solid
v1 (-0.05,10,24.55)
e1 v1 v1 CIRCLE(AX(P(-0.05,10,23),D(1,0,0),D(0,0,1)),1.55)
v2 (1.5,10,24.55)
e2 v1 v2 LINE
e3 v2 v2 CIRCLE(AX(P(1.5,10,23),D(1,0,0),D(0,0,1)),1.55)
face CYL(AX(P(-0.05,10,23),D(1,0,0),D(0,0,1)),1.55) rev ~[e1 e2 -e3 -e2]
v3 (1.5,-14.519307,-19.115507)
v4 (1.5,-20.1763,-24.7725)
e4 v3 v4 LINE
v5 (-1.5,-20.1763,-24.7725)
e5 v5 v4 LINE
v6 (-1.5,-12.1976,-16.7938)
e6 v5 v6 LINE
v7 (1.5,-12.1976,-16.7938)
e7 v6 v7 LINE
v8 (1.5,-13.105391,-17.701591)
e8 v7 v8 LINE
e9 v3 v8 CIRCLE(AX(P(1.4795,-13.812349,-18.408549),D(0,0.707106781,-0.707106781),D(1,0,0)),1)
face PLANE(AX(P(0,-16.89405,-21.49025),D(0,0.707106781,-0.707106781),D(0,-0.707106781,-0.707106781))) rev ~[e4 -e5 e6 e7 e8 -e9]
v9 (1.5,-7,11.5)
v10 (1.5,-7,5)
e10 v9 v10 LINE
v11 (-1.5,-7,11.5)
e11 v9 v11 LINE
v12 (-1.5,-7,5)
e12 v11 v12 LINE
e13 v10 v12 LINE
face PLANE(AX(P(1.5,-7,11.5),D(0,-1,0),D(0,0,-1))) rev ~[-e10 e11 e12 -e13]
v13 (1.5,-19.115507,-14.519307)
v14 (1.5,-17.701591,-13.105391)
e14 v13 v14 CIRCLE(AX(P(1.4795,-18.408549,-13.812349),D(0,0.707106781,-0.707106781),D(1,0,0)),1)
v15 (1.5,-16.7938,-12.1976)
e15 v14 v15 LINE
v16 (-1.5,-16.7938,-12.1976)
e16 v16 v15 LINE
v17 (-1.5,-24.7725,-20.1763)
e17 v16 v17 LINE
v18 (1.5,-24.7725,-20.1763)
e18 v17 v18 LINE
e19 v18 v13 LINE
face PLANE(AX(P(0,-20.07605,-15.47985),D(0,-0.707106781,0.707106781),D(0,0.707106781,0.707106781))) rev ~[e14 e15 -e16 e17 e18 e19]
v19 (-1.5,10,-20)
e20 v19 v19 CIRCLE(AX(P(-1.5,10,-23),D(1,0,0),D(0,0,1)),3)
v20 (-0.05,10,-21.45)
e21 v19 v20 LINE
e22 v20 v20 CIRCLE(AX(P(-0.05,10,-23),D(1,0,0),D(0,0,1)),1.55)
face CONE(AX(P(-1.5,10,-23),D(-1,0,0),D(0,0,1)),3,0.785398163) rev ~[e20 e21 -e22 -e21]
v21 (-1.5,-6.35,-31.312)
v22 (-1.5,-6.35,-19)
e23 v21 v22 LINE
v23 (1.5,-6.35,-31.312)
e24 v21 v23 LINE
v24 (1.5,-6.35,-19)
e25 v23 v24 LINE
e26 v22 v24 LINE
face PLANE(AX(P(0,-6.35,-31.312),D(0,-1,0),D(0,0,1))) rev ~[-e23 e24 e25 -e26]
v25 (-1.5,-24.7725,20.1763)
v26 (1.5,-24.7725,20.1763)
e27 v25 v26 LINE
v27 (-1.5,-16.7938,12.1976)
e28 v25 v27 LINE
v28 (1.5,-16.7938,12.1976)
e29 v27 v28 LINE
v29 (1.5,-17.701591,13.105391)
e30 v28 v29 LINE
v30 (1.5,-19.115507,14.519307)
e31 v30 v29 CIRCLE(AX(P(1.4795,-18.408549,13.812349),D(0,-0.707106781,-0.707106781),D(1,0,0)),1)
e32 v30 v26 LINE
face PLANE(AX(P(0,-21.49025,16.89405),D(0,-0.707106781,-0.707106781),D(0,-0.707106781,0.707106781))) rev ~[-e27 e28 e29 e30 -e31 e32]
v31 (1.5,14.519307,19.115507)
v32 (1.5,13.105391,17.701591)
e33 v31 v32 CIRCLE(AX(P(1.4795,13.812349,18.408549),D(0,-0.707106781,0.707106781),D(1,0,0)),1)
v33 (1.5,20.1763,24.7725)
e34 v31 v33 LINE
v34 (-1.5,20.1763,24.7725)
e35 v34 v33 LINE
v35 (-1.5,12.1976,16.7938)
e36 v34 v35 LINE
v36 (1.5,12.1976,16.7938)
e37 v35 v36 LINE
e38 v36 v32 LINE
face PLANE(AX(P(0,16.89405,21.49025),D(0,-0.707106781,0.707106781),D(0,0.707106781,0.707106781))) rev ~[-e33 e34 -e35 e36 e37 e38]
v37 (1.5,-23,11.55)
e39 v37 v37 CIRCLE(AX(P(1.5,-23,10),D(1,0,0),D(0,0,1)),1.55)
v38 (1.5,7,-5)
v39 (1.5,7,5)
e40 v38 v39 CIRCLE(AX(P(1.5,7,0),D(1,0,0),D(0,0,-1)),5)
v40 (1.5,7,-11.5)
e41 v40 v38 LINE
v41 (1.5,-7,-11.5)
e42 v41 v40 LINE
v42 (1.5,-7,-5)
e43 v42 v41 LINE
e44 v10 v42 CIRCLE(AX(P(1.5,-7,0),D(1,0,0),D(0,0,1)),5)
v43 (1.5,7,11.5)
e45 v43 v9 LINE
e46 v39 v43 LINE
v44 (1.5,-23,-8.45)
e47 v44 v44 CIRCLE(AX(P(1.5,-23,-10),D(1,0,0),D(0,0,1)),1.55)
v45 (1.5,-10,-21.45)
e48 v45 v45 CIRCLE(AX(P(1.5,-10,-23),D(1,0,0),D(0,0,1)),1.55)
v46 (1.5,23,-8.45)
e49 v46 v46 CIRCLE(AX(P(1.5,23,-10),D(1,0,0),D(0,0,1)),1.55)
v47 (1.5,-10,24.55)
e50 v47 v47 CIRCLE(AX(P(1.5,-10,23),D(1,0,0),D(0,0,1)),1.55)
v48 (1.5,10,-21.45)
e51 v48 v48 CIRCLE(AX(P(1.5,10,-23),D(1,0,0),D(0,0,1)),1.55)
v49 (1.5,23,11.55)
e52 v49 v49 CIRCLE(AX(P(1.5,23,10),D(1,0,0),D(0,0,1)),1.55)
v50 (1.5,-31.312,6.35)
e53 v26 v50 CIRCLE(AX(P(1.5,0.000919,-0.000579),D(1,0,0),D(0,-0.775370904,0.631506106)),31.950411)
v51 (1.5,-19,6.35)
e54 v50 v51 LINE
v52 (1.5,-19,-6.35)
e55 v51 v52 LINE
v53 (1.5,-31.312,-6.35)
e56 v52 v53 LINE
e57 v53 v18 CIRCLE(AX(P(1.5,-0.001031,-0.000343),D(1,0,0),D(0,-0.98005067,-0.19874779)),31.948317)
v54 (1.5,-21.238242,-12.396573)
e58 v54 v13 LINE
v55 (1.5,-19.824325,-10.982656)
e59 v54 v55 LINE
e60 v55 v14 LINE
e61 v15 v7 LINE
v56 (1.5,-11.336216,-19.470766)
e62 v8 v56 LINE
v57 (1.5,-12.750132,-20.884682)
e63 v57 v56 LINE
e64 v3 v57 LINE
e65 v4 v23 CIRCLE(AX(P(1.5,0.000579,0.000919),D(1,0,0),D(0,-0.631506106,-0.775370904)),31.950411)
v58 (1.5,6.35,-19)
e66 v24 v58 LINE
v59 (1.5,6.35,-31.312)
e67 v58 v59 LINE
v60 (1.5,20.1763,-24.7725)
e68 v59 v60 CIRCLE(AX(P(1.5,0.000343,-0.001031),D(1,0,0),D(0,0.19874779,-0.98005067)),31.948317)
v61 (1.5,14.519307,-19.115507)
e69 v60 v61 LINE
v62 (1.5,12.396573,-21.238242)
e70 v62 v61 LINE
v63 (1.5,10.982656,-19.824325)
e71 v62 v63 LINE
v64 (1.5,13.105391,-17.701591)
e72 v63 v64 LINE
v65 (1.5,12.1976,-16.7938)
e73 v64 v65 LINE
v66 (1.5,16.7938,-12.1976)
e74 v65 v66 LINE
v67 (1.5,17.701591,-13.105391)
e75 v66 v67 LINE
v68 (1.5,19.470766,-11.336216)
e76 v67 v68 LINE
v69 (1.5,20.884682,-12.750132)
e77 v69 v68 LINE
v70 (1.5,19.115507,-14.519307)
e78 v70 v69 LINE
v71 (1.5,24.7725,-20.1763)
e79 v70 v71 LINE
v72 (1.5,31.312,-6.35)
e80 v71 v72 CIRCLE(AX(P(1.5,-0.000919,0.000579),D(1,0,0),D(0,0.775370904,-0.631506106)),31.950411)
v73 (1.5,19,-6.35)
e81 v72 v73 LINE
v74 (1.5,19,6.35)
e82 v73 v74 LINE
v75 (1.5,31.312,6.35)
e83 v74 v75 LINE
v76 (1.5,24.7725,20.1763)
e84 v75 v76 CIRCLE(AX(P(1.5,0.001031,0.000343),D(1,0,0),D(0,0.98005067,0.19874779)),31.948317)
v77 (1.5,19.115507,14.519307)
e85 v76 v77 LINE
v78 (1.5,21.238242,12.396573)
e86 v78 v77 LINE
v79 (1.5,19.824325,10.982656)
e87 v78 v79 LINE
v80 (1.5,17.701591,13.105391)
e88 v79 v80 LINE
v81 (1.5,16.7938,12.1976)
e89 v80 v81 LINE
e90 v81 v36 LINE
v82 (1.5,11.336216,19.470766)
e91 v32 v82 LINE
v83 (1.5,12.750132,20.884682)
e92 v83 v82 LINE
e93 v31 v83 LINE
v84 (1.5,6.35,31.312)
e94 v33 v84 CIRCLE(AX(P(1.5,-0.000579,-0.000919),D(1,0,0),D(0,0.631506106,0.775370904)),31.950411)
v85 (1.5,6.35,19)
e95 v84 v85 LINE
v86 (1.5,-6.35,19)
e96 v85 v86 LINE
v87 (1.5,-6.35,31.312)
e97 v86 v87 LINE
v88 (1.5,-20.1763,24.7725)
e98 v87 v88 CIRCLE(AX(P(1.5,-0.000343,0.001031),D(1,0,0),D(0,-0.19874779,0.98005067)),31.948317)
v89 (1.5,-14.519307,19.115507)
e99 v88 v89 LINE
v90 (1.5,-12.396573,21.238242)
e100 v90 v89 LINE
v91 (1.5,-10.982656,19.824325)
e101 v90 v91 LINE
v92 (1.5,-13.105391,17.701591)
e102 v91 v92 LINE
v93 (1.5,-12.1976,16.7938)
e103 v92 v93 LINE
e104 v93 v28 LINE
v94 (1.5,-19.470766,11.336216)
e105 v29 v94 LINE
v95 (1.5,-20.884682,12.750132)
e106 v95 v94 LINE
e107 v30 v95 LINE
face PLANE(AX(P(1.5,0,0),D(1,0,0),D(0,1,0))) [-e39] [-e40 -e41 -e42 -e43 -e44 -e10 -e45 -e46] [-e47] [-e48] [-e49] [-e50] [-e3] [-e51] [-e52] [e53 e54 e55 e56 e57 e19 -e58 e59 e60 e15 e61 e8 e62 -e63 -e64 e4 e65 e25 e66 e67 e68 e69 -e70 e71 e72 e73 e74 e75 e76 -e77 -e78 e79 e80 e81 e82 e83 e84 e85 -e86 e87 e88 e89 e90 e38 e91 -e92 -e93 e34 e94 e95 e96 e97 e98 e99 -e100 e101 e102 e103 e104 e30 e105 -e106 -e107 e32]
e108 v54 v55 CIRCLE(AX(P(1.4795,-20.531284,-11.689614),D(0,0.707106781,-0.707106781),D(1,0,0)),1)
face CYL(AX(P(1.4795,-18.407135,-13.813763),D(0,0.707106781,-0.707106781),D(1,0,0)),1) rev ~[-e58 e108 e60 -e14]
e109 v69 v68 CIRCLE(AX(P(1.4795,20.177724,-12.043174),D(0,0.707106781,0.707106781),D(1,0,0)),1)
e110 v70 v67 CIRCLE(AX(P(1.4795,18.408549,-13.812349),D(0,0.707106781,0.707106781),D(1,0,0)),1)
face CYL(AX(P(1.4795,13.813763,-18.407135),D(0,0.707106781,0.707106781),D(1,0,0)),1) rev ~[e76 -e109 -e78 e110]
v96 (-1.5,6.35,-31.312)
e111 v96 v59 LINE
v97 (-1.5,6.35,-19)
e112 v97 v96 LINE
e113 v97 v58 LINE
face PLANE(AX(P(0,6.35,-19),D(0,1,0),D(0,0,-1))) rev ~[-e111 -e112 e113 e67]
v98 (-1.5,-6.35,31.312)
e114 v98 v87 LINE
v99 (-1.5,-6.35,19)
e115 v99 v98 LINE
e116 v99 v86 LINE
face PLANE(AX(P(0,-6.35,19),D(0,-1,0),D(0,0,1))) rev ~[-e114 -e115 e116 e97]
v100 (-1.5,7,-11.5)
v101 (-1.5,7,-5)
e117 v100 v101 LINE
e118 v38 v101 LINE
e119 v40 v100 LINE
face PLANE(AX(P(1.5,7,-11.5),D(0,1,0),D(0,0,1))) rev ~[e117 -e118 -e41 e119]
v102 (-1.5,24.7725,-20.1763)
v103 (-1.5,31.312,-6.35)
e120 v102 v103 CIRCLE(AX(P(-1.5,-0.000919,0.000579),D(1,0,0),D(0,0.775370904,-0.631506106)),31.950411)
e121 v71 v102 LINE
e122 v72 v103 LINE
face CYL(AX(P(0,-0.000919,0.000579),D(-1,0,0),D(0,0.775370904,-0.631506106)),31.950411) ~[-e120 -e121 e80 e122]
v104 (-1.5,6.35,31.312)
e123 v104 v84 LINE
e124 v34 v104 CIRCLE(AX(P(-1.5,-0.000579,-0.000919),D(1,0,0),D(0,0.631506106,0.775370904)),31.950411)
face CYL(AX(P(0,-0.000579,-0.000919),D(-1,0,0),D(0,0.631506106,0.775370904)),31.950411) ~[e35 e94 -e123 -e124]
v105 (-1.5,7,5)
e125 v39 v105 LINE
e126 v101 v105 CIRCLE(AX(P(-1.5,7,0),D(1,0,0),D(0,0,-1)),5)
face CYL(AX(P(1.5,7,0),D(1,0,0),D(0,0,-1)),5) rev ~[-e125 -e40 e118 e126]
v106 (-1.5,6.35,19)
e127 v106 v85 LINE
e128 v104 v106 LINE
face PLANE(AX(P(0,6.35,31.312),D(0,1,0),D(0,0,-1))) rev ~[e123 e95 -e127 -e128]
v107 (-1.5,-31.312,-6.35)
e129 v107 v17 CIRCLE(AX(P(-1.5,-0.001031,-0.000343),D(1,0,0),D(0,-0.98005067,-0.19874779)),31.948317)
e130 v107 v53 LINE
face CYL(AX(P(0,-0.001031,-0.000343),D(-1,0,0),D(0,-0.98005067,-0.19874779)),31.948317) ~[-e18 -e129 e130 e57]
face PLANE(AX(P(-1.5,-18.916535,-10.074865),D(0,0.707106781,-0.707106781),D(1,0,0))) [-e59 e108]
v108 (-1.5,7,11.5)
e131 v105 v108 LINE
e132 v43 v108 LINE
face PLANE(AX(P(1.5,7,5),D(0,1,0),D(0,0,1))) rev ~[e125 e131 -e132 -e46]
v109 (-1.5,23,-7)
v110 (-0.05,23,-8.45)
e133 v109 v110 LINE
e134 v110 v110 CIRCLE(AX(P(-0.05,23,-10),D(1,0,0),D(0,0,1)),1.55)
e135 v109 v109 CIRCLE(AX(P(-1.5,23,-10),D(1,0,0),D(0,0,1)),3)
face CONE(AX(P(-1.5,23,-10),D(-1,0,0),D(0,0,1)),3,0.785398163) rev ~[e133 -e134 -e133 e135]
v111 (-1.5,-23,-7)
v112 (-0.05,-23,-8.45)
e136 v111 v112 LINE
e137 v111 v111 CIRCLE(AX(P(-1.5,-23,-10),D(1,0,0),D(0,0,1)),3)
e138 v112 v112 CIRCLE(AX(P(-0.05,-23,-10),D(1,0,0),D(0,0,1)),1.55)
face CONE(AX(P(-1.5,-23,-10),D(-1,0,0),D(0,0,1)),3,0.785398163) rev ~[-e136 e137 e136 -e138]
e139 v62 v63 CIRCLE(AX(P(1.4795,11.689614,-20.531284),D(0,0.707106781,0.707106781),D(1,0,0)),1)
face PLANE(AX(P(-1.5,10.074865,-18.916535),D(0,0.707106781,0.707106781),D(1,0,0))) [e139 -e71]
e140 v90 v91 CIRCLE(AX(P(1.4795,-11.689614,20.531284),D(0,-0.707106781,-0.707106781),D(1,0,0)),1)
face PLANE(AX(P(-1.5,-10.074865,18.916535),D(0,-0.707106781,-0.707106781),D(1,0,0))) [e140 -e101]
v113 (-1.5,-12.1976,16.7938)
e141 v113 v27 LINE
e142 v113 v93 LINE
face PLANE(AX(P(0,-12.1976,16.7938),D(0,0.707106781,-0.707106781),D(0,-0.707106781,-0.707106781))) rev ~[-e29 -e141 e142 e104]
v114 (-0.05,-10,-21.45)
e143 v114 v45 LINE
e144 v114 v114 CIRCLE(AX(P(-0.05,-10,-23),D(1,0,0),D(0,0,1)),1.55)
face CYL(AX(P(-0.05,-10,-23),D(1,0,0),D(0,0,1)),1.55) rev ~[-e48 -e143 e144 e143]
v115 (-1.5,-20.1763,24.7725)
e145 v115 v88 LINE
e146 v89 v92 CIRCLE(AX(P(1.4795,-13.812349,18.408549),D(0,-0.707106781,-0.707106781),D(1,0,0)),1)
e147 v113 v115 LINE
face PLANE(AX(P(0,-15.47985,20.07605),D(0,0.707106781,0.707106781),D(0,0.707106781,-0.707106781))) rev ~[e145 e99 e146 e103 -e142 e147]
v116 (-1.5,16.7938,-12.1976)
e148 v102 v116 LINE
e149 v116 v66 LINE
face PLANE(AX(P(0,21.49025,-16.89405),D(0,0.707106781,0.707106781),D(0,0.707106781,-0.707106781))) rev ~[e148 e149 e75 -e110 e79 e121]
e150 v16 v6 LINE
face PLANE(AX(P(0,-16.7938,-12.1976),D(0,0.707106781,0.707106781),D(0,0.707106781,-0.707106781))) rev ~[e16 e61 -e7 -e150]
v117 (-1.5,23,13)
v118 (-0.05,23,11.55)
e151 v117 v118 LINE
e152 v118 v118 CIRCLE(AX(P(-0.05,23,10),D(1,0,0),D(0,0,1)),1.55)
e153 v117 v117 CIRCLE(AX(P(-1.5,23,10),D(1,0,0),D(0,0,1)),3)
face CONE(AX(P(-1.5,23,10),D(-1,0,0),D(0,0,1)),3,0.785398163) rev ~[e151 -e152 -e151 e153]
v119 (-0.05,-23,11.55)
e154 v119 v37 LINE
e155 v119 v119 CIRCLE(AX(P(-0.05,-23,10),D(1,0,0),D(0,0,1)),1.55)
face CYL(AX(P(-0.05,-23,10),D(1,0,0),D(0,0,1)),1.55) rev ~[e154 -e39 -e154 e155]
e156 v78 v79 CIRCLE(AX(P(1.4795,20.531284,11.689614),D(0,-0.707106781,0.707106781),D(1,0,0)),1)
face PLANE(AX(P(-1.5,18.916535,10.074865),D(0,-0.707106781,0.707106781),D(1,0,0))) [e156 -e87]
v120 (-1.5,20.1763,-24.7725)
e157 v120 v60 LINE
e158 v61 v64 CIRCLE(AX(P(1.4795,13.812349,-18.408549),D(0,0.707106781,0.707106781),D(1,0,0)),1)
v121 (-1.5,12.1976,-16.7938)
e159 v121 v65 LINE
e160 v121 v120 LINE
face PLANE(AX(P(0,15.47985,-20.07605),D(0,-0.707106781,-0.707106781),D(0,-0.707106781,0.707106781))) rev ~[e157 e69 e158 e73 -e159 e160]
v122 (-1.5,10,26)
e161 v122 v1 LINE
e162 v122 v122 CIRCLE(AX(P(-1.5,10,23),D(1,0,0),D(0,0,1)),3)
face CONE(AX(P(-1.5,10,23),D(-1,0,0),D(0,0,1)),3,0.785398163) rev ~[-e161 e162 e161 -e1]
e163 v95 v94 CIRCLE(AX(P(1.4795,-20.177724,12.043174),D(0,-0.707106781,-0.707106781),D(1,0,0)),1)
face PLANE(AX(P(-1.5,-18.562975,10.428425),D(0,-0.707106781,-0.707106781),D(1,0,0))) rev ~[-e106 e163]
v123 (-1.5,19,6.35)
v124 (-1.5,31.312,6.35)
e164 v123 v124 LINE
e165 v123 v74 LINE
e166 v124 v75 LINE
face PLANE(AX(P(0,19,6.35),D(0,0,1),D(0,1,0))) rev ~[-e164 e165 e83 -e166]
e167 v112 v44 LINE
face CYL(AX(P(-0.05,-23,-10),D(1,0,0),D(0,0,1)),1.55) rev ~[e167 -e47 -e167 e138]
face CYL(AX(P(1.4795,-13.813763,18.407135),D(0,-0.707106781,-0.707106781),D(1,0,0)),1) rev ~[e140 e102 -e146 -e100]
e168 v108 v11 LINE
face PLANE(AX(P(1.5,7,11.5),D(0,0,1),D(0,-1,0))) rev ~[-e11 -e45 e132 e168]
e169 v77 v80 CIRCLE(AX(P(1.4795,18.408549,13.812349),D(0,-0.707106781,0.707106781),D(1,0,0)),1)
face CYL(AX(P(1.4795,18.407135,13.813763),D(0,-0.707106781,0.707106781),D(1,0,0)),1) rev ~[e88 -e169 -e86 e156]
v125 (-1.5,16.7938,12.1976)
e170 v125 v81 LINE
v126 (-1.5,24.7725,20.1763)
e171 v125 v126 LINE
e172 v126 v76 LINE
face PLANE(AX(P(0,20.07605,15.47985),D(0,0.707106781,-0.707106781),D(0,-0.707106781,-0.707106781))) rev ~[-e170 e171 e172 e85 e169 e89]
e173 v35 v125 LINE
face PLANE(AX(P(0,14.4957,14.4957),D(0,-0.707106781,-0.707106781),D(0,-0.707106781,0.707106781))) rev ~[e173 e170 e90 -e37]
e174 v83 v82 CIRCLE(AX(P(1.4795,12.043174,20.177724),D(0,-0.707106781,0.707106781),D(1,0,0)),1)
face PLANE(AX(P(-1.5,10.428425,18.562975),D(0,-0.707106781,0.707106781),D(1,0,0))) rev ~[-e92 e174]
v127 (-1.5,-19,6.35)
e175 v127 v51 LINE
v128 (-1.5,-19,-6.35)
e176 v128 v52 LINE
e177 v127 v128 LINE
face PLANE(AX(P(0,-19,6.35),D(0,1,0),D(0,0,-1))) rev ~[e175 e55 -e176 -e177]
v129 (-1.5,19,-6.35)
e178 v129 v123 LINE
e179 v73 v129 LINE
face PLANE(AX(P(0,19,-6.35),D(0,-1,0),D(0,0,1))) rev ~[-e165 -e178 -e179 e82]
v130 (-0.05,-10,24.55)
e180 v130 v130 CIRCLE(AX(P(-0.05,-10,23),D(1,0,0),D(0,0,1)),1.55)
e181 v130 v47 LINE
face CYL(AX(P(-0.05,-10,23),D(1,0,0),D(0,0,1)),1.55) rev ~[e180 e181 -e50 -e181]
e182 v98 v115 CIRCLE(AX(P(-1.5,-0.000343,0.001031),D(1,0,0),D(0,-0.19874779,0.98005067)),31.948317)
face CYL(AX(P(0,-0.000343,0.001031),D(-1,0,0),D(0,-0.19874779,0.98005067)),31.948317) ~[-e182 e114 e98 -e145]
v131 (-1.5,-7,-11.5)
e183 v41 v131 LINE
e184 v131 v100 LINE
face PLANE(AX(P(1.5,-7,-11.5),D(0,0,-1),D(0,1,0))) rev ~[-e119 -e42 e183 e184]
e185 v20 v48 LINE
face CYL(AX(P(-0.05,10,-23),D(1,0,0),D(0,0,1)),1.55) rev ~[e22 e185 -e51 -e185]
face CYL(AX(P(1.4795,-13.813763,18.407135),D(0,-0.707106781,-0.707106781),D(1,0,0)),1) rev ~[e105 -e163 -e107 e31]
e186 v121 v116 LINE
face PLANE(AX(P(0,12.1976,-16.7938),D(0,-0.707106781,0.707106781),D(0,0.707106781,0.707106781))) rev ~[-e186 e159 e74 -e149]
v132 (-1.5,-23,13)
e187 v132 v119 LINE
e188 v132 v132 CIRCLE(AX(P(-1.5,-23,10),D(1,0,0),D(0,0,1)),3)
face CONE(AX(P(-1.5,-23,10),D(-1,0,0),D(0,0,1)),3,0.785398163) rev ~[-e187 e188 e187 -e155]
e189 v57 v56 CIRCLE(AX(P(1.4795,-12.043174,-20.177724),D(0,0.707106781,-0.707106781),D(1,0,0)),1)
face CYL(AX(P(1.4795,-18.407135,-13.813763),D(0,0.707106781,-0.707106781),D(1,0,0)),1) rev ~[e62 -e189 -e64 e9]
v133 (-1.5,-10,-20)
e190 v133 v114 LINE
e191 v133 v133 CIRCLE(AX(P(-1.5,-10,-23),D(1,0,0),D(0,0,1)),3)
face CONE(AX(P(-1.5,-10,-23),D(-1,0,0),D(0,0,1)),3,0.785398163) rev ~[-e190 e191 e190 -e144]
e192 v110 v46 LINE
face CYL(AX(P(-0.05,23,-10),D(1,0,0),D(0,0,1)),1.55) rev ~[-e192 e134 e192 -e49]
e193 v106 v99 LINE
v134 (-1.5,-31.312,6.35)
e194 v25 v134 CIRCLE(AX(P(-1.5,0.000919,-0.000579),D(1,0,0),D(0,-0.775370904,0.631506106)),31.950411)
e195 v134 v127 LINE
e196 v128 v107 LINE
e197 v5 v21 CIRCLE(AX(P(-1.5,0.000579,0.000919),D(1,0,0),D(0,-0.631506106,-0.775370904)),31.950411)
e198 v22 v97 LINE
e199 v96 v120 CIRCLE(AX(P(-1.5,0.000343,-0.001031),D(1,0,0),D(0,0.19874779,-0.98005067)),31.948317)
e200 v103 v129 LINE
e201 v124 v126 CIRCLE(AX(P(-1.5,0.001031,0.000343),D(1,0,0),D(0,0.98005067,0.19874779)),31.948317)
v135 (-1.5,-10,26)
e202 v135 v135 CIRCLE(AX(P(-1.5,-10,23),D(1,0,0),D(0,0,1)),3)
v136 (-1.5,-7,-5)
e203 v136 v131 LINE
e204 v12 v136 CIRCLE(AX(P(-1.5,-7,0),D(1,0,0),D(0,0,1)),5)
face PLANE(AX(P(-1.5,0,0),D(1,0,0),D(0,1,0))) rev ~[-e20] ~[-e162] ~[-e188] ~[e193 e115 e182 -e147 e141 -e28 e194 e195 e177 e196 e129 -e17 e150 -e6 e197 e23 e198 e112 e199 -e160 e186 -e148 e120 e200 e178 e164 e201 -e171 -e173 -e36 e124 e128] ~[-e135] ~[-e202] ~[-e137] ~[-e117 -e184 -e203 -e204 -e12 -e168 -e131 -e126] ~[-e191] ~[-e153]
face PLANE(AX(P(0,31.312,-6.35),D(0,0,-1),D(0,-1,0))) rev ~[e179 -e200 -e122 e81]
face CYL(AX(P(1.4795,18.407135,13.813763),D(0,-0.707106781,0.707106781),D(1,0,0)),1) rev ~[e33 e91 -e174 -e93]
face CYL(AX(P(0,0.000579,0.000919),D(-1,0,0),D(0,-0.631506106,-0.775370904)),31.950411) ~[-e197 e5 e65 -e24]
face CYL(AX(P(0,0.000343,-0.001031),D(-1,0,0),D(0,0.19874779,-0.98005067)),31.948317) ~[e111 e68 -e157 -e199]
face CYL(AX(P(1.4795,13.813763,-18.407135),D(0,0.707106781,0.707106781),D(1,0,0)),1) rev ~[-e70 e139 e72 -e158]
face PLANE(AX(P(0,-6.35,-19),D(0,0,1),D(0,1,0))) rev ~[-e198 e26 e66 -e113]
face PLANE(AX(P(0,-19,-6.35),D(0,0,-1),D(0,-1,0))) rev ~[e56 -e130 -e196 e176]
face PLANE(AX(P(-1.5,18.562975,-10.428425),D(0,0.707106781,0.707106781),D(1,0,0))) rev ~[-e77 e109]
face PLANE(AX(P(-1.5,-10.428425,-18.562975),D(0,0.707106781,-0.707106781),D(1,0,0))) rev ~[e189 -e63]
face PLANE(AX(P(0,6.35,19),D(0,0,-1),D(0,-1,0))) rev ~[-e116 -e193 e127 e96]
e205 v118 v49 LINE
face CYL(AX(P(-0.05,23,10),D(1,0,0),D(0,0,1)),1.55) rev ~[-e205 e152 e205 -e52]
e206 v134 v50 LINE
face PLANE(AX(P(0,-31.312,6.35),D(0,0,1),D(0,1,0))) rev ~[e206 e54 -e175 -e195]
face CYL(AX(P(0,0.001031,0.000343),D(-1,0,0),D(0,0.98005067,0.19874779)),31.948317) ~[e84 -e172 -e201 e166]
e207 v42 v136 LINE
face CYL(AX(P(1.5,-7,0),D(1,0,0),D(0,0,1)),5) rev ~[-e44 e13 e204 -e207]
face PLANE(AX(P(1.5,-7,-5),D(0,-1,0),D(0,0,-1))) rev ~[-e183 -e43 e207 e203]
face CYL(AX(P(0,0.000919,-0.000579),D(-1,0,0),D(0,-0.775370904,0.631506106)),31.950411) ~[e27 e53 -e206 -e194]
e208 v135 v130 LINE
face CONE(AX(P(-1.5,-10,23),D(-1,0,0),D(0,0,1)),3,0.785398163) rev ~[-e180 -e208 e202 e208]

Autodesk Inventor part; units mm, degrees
ref_plane "YZ Plane" through (0, 0, 0) normal (1, 0, 0) x (0, 1, 0)
sketch "Náčrt1" plane through (0, 0, 0) normal (1, 0, 0) x (0, 1, 0)
  line L0 (19, 6.35) -> (31.312, 6.35)
  line L1 (31.312, -6.35) -> (19, -6.35)
  line L2 (19, -6.35) -> (19, 6.35)
  line L3 (24.7725, 20.1763) -> (16.7938, 12.1976)
  line L4 (16.7938, 12.1976) -> (12.1976, 16.7938)
  line L5 (12.1976, 16.7938) -> (20.1763, 24.7725)
  line L6 (0, 0) -> (14.4957, 14.4957)
  line L7 (6.35, 19) -> (-6.35, 19)
  line L8 (6.35, 31.312) -> (6.35, 19)
  line L9 (-6.35, 19) -> (-6.35, 31.312)
  line L10 (-20.1763, 24.7725) -> (-12.1976, 16.7938)
  line L11 (-12.1976, 16.7938) -> (-16.7938, 12.1976)
  line L12 (-16.7938, 12.1976) -> (-24.7725, 20.1763)
  line L13 (-19, 6.35) -> (-19, -6.35)
  line L14 (-31.312, 6.35) -> (-19, 6.35)
  line L15 (-19, -6.35) -> (-31.312, -6.35)
  line L16 (-24.7725, -20.1763) -> (-16.7938, -12.1976)
  line L17 (-16.7938, -12.1976) -> (-12.1976, -16.7938)
  line L18 (-12.1976, -16.7938) -> (-20.1763, -24.7725)
  line L19 (-6.35, -19) -> (6.35, -19)
  line L20 (-6.35, -31.312) -> (-6.35, -19)
  line L21 (6.35, -19) -> (6.35, -31.312)
  line L22 (20.1763, -24.7725) -> (12.1976, -16.7938)
  line L23 (12.1976, -16.7938) -> (16.7938, -12.1976)
  line L24 (16.7938, -12.1976) -> (24.7725, -20.1763)
  arc A0 (24.7725, -20.1763) -> (31.312, -6.35) centre (0, 0) ccw
  arc A1 (6.35, -31.312) -> (20.1763, -24.7725) centre (0, 0) ccw
  arc A2 (-20.1763, -24.7725) -> (-6.35, -31.312) centre (0, 0) ccw
  arc A3 (-31.312, -6.35) -> (-24.7725, -20.1763) centre (0, 0) ccw
  arc A4 (-24.7725, 20.1763) -> (-31.312, 6.35) centre (0, 0) ccw
  arc A5 (-6.35, 31.312) -> (-20.1763, 24.7725) centre (0, 0) ccw
  arc A6 (31.312, 6.35) -> (24.7725, 20.1763) centre (0, 0) ccw
  arc A7 (20.1763, 24.7725) -> (6.35, 31.312) centre (0, 0) ccw
  line L25 (16.187, 20.7832) -> (20.7832, 16.187)
  line L26 (14.9495, 23.4348) -> (13.5353, 22.0206)
  line L27 (13.5353, 22.0206) -> (22.0206, 13.5353)
  line L28 (22.0206, 13.5353) -> (23.4348, 14.9495)
  line L29 (23.4348, 14.9495) -> (14.9495, 23.4348)
  line L30 (-13.5353, 22.0206) -> (-14.9495, 23.4348)
  line L31 (-22.0206, 13.5353) -> (-13.5353, 22.0206)
  line L32 (-14.9495, 23.4348) -> (-23.4348, 14.9495)
  line L33 (-23.4348, 14.9495) -> (-22.0206, 13.5353)
  line L34 (-22.0206, -13.5353) -> (-23.4348, -14.9495)
  line L35 (-13.5353, -22.0206) -> (-22.0206, -13.5353)
  line L36 (-23.4348, -14.9495) -> (-14.9495, -23.4348)
  line L37 (-14.9495, -23.4348) -> (-13.5353, -22.0206)
  line L38 (13.5353, -22.0206) -> (14.9495, -23.4348)
  line L39 (22.0206, -13.5353) -> (13.5353, -22.0206)
  line L40 (14.9495, -23.4348) -> (23.4348, -14.9495)
  line L41 (23.4348, -14.9495) -> (22.0206, -13.5353)
  point P0 (-14.4957, 14.4957)
  point P1 (-14.4957, -14.4957)
  point P2 (14.4957, -14.4957)
  dimension "d1" = 6.35
  dimension "d2" = 6.35
  dimension "d4" = 6.5
  dimension "d5" = 3.25
  dimension "d6" = 20.5
  dimension "d7" = 45
  dimension "d10" = 360
  dimension "d12" = 2
  dimension "d13" = 12
  dimension "d14" = 1
  dimension "d15" = 2.75
  dimension "d18" = 360
extrude "Vysunutí1" add sketch "Náčrt1" along normal mid plane 3 contours L2 L1 A0 L24 L40 L41 L39 L23 L22 L38 A1 L21 L19 L20 A2 L18 L36 L37 L35 L17 L16 L34 A3 L15 L13 L14 A4 L12 L32 L33 L31 L11 L10 L30 A5 L9 L7 L8 A7 L5 L29 L26 L27 L4 L3 L28 A6 L0 | L29 L28 L27 L3 | L5 L27 L26 L29 | L24 L39 L41 L40 | L40 L38 L39 L22 | L32 L30 L31 L10 | L12 L31 L33 L32 | L18 L35 L37 L36 | L36 L34 L35 L16
ref_plane "Pracovní rovina1" through (1.5, 0, 0) normal (1, 0, 0) x (0, 0, -1)
sketch "Náčrt3" plane through (1.5, 0, 0) normal (1, 0, 0) x (0, 0, -1)
  line L0 (-11.5, 7) -> (-11.5, -7)
  line L1 (11.5, -7) -> (11.5, 7)
  arc A0 (5, 7) -> (-5, 7) centre (0, 7) ccw
  arc A1 (-5, -7) -> (5, -7) centre (0, -7) ccw
  line L2 (-11.5, -7) -> (-5, -7)
  line L3 (5, -7) -> (11.5, -7)
  line L4 (11.5, 7) -> (5, 7)
  line L5 (-5, 7) -> (-11.5, 7)
  point P0 (0, 0)
  dimension "d34" = 23
  dimension "d35" = 14
  dimension "d37" = 11.5
  dimension "d38" = 10
  dimension "d39" = 10
extrude "Vysunutí3" cut sketch "Náčrt3" against normal blind 4
ref_plane "Pracovní rovina2" through (-1.5, 0, 0) normal (-1, 0, 0) x (0, 0, 1)
sketch "Náčrt6" plane through (-1.5, 0, 0) normal (1, 0, 0) x (0, 0, -1)
  circle A0 centre (10, 23) radius 1.55
  circle A1 centre (-10, 23) radius 1.55
  circle A2 centre (-23, 10) radius 1.55
  circle A3 centre (-23, -10) radius 1.55
  circle A4 centre (-10, -23) radius 1.55
  circle A5 centre (10, -23) radius 1.55
  circle A6 centre (23, -10) radius 1.55
  circle A7 centre (23, 10) radius 1.55
  point P0 (0, 0)
  dimension "d52" = 3.1
  dimension "d53" = 3.1
  dimension "d54" = 23
  dimension "d55" = 23
  dimension "d56" = 10
  dimension "d57" = 10
  dimension "d60" = 360
sketch "Sketch7" plane through (-1.5, 16.7938, 12.1976) normal (0, -0.7071, 0.7071) x (1, 0, 0)
  circle A0 centre (2.9795, 2.2836) radius 1
  line L0 (0, 11.2836) -> (3, 11.2836) projected
  point P0 (1.5, -20.5)
  dimension "d64" = 2
  dimension "d65" = 9
extrude "Extrusion6" cut sketch "Sketch7" against normal blind 3 and the other way blind 9
pattern_circular "Circular Pattern1" count 4 over 360 about axis through (0, 0, 0) along (1, 0, 0) of "Extrusion6"
hole "Hole3" at (-1.5, 10, 23) at (-1.5, 23, 10) at (-1.5, -10, 23) at (-1.5, -23, 10) at (-1.5, -23, -10) at (-1.5, 23, -10) at (-1.5, 10, -23) at (-1.5, -10, -23) direction (1, 0, 0) diameter 3.1 end through all countersink diameter 6 countersink angle 90
equation "\"d2\" = d1"
equation "\"d5\" = 0.5 * d4"
equation "\"d14\" = 0.5 * d12"
equation "\"d15\" = -0.5 * d4 + 0.5 * d13"
equation "\"d37\" = 0.5 * d34"
equation "\"d39\" = d38"
equation "\"d55\" = d54"
equation "\"d57\" = d56"
equation "\"d36\" = 0.5 * d35"
properties part number "deska"
